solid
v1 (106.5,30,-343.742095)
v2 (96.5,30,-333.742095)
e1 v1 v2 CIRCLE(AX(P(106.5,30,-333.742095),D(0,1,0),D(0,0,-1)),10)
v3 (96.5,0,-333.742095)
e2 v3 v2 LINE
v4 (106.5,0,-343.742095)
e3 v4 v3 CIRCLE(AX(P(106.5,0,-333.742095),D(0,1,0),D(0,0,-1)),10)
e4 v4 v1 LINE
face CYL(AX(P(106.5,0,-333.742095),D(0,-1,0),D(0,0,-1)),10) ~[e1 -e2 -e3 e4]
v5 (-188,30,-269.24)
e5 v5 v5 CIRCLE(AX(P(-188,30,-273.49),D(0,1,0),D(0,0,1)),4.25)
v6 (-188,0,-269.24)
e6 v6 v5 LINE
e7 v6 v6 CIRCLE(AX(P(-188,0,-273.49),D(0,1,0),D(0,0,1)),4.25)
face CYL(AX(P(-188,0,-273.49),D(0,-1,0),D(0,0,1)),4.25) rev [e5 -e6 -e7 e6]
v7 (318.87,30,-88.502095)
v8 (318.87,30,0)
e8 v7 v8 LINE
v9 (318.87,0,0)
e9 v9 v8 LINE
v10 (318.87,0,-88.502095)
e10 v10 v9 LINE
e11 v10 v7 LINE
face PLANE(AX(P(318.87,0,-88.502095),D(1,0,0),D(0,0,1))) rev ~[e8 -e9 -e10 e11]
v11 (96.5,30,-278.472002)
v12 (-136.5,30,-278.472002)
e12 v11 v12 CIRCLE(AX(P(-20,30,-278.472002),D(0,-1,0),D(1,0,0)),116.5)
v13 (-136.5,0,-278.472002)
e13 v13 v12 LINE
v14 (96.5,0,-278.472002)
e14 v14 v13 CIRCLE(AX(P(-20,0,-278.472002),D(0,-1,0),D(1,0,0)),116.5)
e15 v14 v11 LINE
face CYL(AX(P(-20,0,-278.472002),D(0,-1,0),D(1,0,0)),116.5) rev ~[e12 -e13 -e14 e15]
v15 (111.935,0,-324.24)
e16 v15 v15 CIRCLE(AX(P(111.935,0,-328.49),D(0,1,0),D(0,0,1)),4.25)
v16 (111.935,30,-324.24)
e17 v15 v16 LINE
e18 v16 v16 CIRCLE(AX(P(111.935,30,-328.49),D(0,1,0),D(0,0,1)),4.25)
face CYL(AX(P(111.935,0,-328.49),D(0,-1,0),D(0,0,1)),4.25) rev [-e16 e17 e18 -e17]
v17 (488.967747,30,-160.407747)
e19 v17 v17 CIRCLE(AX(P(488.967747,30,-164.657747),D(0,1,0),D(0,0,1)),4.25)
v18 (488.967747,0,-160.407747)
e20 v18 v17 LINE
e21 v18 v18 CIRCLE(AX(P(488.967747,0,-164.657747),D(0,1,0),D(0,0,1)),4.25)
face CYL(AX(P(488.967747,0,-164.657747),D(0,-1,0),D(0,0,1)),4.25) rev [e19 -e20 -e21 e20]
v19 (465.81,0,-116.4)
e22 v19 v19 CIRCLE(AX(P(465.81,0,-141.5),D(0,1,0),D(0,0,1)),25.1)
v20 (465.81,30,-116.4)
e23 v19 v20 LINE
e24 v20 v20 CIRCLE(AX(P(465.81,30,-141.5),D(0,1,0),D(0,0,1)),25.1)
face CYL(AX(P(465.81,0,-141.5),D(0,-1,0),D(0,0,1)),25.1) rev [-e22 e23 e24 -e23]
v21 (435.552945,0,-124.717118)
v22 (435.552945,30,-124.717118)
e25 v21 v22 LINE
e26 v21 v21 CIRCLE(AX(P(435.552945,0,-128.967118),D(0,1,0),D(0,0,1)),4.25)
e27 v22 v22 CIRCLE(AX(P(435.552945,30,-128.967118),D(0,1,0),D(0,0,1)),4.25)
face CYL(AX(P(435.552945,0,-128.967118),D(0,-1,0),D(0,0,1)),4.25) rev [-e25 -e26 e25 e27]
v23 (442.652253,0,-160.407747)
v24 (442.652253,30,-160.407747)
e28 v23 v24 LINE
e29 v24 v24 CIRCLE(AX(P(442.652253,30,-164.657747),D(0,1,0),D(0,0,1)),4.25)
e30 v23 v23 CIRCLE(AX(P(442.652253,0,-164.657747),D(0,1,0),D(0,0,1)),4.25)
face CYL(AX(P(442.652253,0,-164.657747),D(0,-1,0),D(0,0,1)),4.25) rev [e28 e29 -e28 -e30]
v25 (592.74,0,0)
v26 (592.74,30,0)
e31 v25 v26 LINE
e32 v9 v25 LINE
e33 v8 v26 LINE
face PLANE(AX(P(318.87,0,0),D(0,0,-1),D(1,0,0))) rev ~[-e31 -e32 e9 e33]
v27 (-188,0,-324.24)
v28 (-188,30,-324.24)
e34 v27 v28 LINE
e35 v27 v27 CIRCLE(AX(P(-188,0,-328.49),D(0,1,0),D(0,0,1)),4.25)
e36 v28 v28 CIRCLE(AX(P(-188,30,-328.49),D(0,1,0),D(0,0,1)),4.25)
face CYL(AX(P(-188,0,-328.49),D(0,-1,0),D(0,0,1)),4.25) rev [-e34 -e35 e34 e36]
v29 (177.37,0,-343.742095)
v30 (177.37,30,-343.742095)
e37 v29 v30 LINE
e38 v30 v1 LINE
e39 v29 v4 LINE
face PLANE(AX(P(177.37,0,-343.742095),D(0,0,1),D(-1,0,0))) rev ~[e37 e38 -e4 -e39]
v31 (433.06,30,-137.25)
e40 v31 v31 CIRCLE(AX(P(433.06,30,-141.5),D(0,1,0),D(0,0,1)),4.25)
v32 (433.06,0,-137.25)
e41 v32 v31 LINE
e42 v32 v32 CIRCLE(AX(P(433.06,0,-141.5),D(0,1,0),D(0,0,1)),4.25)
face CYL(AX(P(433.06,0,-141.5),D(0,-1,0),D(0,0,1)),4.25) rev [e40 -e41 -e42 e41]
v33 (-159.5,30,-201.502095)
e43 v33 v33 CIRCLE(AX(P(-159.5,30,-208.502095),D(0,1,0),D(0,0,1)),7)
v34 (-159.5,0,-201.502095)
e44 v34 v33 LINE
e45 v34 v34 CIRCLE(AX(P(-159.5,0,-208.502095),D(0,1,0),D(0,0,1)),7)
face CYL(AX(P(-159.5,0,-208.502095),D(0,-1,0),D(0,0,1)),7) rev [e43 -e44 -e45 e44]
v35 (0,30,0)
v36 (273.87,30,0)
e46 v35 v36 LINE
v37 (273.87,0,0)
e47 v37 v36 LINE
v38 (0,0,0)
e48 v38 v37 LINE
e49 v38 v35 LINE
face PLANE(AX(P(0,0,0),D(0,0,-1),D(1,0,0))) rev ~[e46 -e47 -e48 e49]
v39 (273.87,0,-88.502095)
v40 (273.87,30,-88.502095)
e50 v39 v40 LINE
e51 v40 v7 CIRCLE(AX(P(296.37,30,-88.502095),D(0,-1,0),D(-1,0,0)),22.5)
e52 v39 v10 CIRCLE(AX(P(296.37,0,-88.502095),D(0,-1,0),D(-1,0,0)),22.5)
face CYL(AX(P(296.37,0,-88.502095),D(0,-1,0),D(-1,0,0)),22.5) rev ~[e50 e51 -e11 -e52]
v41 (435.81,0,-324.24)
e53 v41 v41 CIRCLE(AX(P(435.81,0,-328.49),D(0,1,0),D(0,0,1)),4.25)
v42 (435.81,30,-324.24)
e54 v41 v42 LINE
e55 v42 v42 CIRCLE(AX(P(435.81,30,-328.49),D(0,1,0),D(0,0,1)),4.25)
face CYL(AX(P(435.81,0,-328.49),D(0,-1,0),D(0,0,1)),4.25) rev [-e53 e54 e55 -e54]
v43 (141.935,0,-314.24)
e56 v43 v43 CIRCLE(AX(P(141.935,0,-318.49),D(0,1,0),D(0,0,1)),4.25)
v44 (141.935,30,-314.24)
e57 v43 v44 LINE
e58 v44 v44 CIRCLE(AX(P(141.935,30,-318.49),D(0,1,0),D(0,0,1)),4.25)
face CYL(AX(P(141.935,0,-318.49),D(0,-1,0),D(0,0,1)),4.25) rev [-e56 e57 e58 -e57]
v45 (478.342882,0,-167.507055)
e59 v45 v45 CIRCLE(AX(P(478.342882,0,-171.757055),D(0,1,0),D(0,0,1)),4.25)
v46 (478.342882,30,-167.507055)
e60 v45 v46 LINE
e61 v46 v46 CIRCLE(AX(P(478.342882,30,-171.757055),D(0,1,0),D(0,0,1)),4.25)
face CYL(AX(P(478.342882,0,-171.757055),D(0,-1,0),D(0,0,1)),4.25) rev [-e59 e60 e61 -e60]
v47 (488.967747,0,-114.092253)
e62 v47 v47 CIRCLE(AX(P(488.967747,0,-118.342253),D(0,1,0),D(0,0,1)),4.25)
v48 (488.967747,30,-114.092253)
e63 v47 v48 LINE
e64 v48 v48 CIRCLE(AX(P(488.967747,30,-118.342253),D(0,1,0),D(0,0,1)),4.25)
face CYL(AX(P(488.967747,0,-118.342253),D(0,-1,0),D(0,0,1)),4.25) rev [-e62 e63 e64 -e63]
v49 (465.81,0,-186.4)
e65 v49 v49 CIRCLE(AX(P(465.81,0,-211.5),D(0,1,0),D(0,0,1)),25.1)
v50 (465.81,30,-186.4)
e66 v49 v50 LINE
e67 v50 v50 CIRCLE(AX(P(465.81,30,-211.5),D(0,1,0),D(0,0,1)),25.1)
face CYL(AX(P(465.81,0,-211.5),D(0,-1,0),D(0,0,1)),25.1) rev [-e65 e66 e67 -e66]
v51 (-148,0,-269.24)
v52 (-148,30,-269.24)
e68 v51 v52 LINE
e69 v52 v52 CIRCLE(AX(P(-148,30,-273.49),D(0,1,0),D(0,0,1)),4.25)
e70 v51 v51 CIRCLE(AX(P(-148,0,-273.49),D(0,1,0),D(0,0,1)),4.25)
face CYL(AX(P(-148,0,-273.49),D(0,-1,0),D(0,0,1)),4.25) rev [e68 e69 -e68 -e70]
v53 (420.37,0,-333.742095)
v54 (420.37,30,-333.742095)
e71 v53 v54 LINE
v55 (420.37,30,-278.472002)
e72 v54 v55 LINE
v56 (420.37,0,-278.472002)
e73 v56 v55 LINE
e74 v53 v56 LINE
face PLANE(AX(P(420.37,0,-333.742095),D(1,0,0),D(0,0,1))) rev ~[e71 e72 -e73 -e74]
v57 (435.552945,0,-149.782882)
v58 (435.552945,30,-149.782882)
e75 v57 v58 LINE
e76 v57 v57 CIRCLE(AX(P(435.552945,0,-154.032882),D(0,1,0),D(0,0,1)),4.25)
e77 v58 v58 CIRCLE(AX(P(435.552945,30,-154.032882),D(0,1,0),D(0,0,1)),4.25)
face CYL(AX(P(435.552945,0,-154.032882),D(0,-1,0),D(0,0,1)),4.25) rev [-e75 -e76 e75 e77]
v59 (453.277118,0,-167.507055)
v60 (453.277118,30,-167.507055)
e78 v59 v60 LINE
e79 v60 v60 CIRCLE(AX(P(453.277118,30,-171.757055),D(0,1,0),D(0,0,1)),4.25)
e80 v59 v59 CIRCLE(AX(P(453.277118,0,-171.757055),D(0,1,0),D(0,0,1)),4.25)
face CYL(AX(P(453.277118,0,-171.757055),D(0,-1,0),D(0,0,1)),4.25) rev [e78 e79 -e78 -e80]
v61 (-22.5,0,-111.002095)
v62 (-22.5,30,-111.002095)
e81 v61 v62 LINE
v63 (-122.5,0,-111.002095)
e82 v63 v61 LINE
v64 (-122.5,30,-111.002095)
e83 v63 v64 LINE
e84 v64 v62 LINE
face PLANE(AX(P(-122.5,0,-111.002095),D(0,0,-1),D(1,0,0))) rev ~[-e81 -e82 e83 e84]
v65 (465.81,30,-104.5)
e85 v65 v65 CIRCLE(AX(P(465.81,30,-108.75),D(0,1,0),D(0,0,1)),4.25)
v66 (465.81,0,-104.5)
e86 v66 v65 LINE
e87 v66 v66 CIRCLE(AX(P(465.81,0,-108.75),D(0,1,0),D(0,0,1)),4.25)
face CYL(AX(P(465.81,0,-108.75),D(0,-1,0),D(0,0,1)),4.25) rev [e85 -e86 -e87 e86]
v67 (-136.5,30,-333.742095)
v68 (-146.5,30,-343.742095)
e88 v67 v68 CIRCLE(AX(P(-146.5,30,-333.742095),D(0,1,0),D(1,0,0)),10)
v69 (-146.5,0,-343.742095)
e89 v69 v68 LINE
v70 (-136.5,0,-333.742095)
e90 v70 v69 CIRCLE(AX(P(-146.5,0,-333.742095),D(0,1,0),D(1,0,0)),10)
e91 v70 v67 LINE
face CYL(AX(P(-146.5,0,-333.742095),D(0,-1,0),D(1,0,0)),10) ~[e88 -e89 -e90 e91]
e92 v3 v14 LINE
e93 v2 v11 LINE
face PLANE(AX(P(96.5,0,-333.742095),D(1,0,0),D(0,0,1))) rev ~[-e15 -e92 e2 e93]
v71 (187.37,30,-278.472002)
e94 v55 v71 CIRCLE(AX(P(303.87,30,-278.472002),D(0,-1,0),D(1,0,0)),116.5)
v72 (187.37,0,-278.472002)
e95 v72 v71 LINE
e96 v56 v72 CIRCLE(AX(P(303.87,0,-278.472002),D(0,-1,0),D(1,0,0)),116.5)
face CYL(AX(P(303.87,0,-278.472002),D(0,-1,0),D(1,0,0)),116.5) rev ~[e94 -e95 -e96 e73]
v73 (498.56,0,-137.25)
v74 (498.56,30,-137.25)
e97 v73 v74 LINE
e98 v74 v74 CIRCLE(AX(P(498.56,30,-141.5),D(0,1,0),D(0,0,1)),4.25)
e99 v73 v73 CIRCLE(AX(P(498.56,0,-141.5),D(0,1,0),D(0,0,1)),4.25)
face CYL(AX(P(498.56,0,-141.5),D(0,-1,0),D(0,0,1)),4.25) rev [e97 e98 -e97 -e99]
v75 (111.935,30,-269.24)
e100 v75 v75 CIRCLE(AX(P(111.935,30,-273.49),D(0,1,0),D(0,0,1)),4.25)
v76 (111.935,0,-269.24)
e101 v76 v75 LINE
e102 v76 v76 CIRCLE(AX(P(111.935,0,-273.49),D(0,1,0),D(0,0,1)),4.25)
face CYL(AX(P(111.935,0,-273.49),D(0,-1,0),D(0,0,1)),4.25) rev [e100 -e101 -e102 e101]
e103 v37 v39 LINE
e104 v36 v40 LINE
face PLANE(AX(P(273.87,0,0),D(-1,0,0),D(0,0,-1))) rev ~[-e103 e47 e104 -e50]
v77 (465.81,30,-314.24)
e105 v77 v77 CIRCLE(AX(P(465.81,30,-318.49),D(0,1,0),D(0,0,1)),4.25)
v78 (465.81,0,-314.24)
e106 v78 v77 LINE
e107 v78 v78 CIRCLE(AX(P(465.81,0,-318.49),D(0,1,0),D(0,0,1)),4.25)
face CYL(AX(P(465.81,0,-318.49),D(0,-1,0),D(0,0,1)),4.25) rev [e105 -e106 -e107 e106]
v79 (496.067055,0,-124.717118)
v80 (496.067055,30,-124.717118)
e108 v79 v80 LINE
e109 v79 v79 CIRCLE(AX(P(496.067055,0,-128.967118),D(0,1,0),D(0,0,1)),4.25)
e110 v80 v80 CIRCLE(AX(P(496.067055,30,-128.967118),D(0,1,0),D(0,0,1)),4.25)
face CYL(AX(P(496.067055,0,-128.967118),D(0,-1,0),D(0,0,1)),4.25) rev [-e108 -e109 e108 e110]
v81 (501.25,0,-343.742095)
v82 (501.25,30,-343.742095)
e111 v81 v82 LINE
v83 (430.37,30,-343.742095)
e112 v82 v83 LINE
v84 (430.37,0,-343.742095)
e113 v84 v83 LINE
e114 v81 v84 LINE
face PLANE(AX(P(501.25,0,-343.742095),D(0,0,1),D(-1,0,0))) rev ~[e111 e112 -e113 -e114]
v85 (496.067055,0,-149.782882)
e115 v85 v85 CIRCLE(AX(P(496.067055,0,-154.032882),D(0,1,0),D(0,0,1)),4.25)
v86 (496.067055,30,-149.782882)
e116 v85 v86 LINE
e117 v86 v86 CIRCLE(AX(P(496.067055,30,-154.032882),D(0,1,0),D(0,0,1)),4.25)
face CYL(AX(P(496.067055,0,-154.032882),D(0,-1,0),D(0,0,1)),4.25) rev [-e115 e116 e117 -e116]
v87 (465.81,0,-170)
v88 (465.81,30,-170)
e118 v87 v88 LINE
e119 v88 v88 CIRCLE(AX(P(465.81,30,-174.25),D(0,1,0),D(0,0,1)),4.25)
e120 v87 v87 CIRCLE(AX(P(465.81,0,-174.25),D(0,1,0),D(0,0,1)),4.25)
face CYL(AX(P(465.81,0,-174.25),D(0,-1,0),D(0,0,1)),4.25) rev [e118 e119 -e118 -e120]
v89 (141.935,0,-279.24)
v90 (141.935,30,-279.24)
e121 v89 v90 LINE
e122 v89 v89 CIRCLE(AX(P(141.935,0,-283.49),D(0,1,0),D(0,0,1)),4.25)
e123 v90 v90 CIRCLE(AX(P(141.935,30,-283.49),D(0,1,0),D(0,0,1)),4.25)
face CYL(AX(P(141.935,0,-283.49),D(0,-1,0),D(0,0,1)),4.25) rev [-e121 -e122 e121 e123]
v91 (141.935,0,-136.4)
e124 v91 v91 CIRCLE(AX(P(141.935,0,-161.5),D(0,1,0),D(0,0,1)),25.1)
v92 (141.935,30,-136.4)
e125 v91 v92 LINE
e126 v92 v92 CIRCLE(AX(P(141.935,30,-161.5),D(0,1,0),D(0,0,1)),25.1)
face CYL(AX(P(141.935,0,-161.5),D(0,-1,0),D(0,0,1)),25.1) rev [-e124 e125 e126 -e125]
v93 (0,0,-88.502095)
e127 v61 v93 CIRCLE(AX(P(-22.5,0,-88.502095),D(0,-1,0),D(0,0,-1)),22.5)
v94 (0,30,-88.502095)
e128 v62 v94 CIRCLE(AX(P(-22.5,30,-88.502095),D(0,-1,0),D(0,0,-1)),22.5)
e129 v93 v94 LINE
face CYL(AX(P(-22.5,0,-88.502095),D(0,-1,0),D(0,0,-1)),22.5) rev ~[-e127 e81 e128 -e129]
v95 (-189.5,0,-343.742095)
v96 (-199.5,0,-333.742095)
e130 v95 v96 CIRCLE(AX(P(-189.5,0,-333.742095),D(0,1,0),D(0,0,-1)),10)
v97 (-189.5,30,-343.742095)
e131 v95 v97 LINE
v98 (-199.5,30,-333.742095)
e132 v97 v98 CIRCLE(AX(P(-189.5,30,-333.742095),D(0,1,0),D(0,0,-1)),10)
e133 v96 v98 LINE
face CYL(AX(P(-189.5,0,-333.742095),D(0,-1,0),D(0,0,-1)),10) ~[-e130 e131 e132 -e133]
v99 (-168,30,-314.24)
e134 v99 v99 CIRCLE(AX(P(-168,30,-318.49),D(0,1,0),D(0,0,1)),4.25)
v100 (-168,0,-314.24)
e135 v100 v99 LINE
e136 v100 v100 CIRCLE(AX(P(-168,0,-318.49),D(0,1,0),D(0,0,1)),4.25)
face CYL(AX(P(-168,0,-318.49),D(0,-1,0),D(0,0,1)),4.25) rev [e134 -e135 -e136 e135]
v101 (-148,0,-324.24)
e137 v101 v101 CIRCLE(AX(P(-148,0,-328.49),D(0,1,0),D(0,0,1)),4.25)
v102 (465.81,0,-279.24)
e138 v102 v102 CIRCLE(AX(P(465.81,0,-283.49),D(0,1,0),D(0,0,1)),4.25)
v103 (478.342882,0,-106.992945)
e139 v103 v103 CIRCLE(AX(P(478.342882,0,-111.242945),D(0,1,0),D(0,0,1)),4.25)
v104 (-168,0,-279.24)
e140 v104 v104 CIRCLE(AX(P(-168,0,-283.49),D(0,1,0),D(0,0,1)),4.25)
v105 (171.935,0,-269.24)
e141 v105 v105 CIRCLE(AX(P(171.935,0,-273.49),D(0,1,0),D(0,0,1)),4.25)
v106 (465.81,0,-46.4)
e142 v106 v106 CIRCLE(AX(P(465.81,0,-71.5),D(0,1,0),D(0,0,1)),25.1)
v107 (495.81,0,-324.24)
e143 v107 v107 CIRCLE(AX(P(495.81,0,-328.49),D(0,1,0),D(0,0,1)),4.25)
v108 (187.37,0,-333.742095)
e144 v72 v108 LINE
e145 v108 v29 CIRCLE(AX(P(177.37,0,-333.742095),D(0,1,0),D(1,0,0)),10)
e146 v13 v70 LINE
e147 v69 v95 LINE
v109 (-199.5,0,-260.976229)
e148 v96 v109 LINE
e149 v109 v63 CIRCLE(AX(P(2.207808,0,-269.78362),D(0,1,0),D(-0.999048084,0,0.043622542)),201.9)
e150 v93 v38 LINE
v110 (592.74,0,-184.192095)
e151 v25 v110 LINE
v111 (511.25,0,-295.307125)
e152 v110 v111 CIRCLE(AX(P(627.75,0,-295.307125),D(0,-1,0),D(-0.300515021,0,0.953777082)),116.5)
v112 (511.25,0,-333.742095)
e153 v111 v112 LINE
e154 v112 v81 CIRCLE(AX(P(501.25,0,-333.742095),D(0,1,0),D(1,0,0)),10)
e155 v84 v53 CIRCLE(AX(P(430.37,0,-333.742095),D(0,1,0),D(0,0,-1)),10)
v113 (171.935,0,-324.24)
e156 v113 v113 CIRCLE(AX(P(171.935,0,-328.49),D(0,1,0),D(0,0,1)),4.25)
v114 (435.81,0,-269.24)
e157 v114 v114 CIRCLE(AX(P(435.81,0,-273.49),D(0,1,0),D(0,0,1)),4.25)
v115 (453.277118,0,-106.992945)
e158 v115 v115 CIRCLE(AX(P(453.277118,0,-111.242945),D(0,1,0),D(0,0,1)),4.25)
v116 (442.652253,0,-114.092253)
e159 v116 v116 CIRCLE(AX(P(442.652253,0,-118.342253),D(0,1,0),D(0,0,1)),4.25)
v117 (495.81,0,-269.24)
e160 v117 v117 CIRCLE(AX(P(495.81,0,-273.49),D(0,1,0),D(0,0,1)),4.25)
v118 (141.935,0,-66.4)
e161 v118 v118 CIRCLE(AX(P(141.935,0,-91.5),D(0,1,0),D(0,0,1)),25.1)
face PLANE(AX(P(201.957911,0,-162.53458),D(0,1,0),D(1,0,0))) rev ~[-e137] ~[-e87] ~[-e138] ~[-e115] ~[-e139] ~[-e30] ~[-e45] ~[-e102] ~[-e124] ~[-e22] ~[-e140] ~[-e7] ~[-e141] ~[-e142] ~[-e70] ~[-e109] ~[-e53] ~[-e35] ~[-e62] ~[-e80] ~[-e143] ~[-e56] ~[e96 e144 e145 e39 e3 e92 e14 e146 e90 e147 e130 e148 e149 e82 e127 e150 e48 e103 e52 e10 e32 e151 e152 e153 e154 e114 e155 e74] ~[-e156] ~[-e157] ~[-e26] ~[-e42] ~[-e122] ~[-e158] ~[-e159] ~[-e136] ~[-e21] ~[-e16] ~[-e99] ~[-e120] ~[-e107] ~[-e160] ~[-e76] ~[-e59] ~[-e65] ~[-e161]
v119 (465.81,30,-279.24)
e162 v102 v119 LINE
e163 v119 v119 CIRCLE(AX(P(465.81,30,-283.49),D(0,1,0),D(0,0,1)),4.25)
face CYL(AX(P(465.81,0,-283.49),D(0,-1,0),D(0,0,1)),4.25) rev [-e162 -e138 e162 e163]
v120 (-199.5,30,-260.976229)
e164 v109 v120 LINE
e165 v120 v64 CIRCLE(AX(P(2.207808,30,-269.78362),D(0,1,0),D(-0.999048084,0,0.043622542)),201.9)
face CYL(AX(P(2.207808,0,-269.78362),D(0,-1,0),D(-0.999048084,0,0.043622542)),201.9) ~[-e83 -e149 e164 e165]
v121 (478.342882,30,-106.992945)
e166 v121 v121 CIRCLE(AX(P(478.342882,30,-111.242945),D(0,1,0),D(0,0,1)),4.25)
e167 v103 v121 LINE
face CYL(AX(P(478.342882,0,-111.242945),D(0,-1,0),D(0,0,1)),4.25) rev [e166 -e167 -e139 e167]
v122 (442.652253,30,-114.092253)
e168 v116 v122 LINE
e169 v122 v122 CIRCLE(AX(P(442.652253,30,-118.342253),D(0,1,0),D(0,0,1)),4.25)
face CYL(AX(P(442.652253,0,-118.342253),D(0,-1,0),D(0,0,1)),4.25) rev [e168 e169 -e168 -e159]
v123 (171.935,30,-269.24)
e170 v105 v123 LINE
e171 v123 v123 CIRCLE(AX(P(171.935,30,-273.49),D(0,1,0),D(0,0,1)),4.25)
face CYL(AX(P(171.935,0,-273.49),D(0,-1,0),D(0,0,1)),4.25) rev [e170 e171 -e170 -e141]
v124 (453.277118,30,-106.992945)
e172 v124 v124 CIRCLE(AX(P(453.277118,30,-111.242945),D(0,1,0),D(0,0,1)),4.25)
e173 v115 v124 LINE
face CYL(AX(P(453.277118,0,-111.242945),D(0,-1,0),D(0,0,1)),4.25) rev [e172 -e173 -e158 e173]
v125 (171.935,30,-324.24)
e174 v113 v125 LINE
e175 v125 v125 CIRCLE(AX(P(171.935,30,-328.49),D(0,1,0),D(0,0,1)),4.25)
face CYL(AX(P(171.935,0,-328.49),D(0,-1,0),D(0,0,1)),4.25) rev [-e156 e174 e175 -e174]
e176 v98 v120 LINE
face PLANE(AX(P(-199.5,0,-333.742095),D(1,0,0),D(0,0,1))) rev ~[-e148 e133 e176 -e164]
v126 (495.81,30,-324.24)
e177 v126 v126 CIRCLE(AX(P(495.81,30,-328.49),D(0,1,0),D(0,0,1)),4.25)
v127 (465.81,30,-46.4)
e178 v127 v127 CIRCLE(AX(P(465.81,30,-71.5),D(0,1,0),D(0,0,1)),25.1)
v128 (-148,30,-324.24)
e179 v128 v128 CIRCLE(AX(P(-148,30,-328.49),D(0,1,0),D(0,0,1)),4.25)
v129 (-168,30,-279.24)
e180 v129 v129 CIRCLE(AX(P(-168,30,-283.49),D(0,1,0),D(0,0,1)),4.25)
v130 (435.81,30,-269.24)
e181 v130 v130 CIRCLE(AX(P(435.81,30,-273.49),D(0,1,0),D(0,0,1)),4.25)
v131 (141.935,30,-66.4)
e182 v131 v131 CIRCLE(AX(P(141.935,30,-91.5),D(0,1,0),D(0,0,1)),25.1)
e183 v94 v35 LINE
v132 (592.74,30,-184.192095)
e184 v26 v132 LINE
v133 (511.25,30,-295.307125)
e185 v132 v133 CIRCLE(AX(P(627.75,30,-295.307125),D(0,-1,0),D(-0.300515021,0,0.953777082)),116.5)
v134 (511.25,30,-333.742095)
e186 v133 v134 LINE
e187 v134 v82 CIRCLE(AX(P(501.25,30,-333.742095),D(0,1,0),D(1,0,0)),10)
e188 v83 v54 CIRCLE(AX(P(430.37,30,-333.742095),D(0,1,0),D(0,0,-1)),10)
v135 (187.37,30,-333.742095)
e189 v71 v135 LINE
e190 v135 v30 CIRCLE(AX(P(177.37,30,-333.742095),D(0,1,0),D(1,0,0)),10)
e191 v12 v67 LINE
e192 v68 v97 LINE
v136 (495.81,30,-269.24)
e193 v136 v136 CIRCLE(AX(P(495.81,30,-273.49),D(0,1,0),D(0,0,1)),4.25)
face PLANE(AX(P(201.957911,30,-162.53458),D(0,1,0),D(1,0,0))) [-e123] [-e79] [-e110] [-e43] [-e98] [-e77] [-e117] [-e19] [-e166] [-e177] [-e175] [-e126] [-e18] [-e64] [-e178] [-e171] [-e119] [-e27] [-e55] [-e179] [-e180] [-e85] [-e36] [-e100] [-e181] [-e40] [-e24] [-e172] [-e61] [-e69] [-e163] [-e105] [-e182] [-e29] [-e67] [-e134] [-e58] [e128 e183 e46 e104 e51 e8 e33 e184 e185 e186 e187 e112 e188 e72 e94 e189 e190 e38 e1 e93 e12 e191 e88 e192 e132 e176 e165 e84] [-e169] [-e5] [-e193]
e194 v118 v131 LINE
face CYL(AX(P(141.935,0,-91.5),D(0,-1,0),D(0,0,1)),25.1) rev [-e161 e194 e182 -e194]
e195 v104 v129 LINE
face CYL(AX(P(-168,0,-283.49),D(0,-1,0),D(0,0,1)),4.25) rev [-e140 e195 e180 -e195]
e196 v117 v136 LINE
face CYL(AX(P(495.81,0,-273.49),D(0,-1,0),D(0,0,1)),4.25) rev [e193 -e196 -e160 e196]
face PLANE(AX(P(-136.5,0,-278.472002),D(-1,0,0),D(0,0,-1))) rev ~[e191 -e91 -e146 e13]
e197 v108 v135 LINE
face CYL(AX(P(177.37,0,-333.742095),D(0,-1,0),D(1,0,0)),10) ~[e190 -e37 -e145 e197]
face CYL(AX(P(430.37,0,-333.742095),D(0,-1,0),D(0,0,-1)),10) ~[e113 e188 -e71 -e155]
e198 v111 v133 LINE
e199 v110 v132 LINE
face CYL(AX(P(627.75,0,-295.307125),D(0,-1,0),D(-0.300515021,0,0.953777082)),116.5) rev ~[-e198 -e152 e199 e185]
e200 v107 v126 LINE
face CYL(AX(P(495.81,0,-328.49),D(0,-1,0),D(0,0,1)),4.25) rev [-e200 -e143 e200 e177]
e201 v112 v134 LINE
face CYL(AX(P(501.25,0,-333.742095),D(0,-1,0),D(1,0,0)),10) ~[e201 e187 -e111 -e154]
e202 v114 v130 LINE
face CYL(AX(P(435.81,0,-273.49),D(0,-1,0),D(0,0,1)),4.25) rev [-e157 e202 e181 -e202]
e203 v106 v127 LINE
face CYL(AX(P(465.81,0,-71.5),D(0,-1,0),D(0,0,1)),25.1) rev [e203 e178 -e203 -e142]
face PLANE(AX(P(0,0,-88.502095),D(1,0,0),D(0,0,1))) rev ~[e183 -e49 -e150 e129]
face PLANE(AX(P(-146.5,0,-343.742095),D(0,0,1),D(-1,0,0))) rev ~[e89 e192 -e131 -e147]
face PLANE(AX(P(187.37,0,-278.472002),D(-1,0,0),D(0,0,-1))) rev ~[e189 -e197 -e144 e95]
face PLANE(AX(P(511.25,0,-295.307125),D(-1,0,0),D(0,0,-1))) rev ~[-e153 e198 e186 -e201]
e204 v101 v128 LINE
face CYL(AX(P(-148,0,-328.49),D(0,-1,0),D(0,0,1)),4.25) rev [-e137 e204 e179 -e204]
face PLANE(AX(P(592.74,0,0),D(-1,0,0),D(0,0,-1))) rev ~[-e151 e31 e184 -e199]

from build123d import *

# Parameters (mm, degrees)
SKETCH1_R           = 4.25
SKETCH1_R_2         = 25.1
SKETCH1_R_3         = 7
BOSS_EXTRUDE1_DEPTH = 30


with BuildPart() as part:
    # Sketch1 → Boss-Extrude1 (new body)
    with BuildSketch(Plane(origin=(0, 0, 0), x_dir=(1, 0, 0), z_dir=(0, 1, 0))):
        with BuildLine():
            Line((0, 0), (273.87, 0))
            Line((273.87, 0), (273.87, 88.502095305))
            ThreePointArc((273.87, 88.502095305), (296.37, 111.002095305), (318.87, 88.502095305))
            Line((318.87, 88.502095305), (318.87, 0))
            Line((318.87, 0), (592.74, 0))
            Line((592.74, 0), (592.74, 184.192095305))
            ThreePointArc((592.74, 184.192095305), (533.806093864, 226.410155161), (511.25, 295.307125341))
            Line((511.25, 295.307125341), (511.25, 333.742095305))
            ThreePointArc((511.25, 333.742095305), (508.321067812, 340.813163117), (501.25, 343.742095305))
            Line((501.25, 343.742095305), (430.37, 343.742095305))
            ThreePointArc((430.37, 343.742095305), (423.298932188, 340.813163117), (420.37, 333.742095305))
            Line((420.37, 333.742095305), (420.37, 278.472002111))
            ThreePointArc((420.37, 278.472002111), (303.87, 161.972002111), (187.37, 278.472002111))
            Line((187.37, 278.472002111), (187.37, 333.742095305))
            ThreePointArc((187.37, 333.742095305), (184.441067812, 340.813163117), (177.37, 343.742095305))
            Line((177.37, 343.742095305), (106.5, 343.742095305))
            ThreePointArc((106.5, 343.742095305), (99.428932188, 340.813163117), (96.5, 333.742095305))
            Line((96.5, 333.742095305), (96.5, 278.472002111))
            ThreePointArc((96.5, 278.472002111), (-20, 161.972002111), (-136.5, 278.472002111))
            Line((-136.5, 278.472002111), (-136.5, 333.742095305))
            ThreePointArc((-136.5, 333.742095305), (-139.428932188, 340.813163117), (-146.5, 343.742095305))
            Line((-146.5, 343.742095305), (-189.5, 343.742095305))
            ThreePointArc((-189.5, 343.742095305), (-196.571067812, 340.813163117), (-199.5, 333.742095305))
            Line((-199.5, 333.742095305), (-199.5, 260.976228759))
            ThreePointArc((-199.5, 260.976228759), (-177.402461095, 177.567779789), (-122.5, 111.002095305))
            Line((-122.5, 111.002095305), (-22.5, 111.002095305))
            ThreePointArc((-22.5, 111.002095305), (-6.590097423, 104.411997882), (0, 88.502095305))
            Line((0, 88.502095305), (0, 0))
        make_face()
        with Locations(Location((-188, 328.49, 0), (0, 0, 270))):
            Circle(SKETCH1_R, mode=Mode.SUBTRACT)
        with Locations(Location((-148, 328.49, 0), (0, 0, 270))):
            Circle(SKETCH1_R, mode=Mode.SUBTRACT)
        with Locations(Location((-188, 273.49, 0), (0, 0, 270))):
            Circle(SKETCH1_R, mode=Mode.SUBTRACT)
        with Locations(Location((-148, 273.49, 0), (0, 0, 270))):
            Circle(SKETCH1_R, mode=Mode.SUBTRACT)
        with Locations(Location((-168, 318.49, 0), (0, 0, 270))):
            Circle(SKETCH1_R, mode=Mode.SUBTRACT)
        with Locations(Location((-168, 283.49, 0), (0, 0, 270))):
            Circle(SKETCH1_R, mode=Mode.SUBTRACT)
        with Locations(Location((111.935, 328.49, 0), (0, 0, 270))):
            Circle(SKETCH1_R, mode=Mode.SUBTRACT)
        with Locations(Location((171.935, 328.49, 0), (0, 0, 270))):
            Circle(SKETCH1_R, mode=Mode.SUBTRACT)
        with Locations(Location((111.935, 273.49, 0), (0, 0, 270))):
            Circle(SKETCH1_R, mode=Mode.SUBTRACT)
        with Locations(Location((171.935, 273.49, 0), (0, 0, 270))):
            Circle(SKETCH1_R, mode=Mode.SUBTRACT)
        with Locations(Location((141.935, 318.49, 0), (0, 0, 270))):
            Circle(SKETCH1_R, mode=Mode.SUBTRACT)
        with Locations(Location((141.935, 283.49, 0), (0, 0, 270))):
            Circle(SKETCH1_R, mode=Mode.SUBTRACT)
        with Locations(Location((435.81, 328.49, 0), (0, 0, 270))):
            Circle(SKETCH1_R, mode=Mode.SUBTRACT)
        with Locations(Location((495.81, 328.49, 0), (0, 0, 270))):
            Circle(SKETCH1_R, mode=Mode.SUBTRACT)
        with Locations(Location((435.81, 273.49, 0), (0, 0, 270))):
            Circle(SKETCH1_R, mode=Mode.SUBTRACT)
        with Locations(Location((495.81, 273.49, 0), (0, 0, 270))):
            Circle(SKETCH1_R, mode=Mode.SUBTRACT)
        with Locations(Location((465.81, 318.49, 0), (0, 0, 270))):
            Circle(SKETCH1_R, mode=Mode.SUBTRACT)
        with Locations(Location((465.81, 283.49, 0), (0, 0, 270))):
            Circle(SKETCH1_R, mode=Mode.SUBTRACT)
        with Locations(Location((465.81, 71.5, 0), (0, 0, 270))):
            Circle(SKETCH1_R_2, mode=Mode.SUBTRACT)
        with Locations(Location((465.81, 141.5, 0), (0, 0, 270))):
            Circle(SKETCH1_R_2, mode=Mode.SUBTRACT)
        with Locations(Location((465.81, 211.5, 0), (0, 0, 270))):
            Circle(SKETCH1_R_2, mode=Mode.SUBTRACT)
        with Locations(Location((465.81, 174.25, 0), (0, 0, 270))):
            Circle(SKETCH1_R, mode=Mode.SUBTRACT)
        with Locations(Location((453.27711759, 171.75705469, 0), (0, 0, 270))):
            Circle(SKETCH1_R, mode=Mode.SUBTRACT)
        with Locations(Location((442.652252916, 164.657747084, 0), (0, 0, 270))):
            Circle(SKETCH1_R, mode=Mode.SUBTRACT)
        with Locations(Location((435.55294531, 154.03288241, 0), (0, 0, 270))):
            Circle(SKETCH1_R, mode=Mode.SUBTRACT)
        with Locations(Location((433.06, 141.5, 0), (0, 0, 270))):
            Circle(SKETCH1_R, mode=Mode.SUBTRACT)
        with Locations(Location((453.27711759, 111.24294531, 0), (0, 0, 270))):
            Circle(SKETCH1_R, mode=Mode.SUBTRACT)
        with Locations(Location((442.652252916, 118.342252916, 0), (0, 0, 270))):
            Circle(SKETCH1_R, mode=Mode.SUBTRACT)
        with Locations(Location((435.55294531, 128.96711759, 0), (0, 0, 270))):
            Circle(SKETCH1_R, mode=Mode.SUBTRACT)
        with Locations(Location((465.81, 108.75, 0), (0, 0, 270))):
            Circle(SKETCH1_R, mode=Mode.SUBTRACT)
        with Locations(Location((478.34288241, 111.24294531, 0), (0, 0, 270))):
            Circle(SKETCH1_R, mode=Mode.SUBTRACT)
        with Locations(Location((488.967747084, 118.342252916, 0), (0, 0, 270))):
            Circle(SKETCH1_R, mode=Mode.SUBTRACT)
        with Locations(Location((496.06705469, 128.96711759, 0), (0, 0, 270))):
            Circle(SKETCH1_R, mode=Mode.SUBTRACT)
        with Locations(Location((498.56, 141.5, 0), (0, 0, 270))):
            Circle(SKETCH1_R, mode=Mode.SUBTRACT)
        with Locations(Location((496.06705469, 154.03288241, 0), (0, 0, 270))):
            Circle(SKETCH1_R, mode=Mode.SUBTRACT)
        with Locations(Location((488.967747084, 164.657747084, 0), (0, 0, 270))):
            Circle(SKETCH1_R, mode=Mode.SUBTRACT)
        with Locations(Location((478.34288241, 171.75705469, 0), (0, 0, 270))):
            Circle(SKETCH1_R, mode=Mode.SUBTRACT)
        with Locations(Location((141.935, 161.5, 0), (0, 0, 270))):
            Circle(SKETCH1_R_2, mode=Mode.SUBTRACT)
        with Locations(Location((141.935, 91.5, 0), (0, 0, 270))):
            Circle(SKETCH1_R_2, mode=Mode.SUBTRACT)
        with Locations(Location((-159.5, 208.502095305, 0), (0, 0, 270))):
            Circle(SKETCH1_R_3, mode=Mode.SUBTRACT)
    extrude(amount=BOSS_EXTRUDE1_DEPTH)


solid = part.part
